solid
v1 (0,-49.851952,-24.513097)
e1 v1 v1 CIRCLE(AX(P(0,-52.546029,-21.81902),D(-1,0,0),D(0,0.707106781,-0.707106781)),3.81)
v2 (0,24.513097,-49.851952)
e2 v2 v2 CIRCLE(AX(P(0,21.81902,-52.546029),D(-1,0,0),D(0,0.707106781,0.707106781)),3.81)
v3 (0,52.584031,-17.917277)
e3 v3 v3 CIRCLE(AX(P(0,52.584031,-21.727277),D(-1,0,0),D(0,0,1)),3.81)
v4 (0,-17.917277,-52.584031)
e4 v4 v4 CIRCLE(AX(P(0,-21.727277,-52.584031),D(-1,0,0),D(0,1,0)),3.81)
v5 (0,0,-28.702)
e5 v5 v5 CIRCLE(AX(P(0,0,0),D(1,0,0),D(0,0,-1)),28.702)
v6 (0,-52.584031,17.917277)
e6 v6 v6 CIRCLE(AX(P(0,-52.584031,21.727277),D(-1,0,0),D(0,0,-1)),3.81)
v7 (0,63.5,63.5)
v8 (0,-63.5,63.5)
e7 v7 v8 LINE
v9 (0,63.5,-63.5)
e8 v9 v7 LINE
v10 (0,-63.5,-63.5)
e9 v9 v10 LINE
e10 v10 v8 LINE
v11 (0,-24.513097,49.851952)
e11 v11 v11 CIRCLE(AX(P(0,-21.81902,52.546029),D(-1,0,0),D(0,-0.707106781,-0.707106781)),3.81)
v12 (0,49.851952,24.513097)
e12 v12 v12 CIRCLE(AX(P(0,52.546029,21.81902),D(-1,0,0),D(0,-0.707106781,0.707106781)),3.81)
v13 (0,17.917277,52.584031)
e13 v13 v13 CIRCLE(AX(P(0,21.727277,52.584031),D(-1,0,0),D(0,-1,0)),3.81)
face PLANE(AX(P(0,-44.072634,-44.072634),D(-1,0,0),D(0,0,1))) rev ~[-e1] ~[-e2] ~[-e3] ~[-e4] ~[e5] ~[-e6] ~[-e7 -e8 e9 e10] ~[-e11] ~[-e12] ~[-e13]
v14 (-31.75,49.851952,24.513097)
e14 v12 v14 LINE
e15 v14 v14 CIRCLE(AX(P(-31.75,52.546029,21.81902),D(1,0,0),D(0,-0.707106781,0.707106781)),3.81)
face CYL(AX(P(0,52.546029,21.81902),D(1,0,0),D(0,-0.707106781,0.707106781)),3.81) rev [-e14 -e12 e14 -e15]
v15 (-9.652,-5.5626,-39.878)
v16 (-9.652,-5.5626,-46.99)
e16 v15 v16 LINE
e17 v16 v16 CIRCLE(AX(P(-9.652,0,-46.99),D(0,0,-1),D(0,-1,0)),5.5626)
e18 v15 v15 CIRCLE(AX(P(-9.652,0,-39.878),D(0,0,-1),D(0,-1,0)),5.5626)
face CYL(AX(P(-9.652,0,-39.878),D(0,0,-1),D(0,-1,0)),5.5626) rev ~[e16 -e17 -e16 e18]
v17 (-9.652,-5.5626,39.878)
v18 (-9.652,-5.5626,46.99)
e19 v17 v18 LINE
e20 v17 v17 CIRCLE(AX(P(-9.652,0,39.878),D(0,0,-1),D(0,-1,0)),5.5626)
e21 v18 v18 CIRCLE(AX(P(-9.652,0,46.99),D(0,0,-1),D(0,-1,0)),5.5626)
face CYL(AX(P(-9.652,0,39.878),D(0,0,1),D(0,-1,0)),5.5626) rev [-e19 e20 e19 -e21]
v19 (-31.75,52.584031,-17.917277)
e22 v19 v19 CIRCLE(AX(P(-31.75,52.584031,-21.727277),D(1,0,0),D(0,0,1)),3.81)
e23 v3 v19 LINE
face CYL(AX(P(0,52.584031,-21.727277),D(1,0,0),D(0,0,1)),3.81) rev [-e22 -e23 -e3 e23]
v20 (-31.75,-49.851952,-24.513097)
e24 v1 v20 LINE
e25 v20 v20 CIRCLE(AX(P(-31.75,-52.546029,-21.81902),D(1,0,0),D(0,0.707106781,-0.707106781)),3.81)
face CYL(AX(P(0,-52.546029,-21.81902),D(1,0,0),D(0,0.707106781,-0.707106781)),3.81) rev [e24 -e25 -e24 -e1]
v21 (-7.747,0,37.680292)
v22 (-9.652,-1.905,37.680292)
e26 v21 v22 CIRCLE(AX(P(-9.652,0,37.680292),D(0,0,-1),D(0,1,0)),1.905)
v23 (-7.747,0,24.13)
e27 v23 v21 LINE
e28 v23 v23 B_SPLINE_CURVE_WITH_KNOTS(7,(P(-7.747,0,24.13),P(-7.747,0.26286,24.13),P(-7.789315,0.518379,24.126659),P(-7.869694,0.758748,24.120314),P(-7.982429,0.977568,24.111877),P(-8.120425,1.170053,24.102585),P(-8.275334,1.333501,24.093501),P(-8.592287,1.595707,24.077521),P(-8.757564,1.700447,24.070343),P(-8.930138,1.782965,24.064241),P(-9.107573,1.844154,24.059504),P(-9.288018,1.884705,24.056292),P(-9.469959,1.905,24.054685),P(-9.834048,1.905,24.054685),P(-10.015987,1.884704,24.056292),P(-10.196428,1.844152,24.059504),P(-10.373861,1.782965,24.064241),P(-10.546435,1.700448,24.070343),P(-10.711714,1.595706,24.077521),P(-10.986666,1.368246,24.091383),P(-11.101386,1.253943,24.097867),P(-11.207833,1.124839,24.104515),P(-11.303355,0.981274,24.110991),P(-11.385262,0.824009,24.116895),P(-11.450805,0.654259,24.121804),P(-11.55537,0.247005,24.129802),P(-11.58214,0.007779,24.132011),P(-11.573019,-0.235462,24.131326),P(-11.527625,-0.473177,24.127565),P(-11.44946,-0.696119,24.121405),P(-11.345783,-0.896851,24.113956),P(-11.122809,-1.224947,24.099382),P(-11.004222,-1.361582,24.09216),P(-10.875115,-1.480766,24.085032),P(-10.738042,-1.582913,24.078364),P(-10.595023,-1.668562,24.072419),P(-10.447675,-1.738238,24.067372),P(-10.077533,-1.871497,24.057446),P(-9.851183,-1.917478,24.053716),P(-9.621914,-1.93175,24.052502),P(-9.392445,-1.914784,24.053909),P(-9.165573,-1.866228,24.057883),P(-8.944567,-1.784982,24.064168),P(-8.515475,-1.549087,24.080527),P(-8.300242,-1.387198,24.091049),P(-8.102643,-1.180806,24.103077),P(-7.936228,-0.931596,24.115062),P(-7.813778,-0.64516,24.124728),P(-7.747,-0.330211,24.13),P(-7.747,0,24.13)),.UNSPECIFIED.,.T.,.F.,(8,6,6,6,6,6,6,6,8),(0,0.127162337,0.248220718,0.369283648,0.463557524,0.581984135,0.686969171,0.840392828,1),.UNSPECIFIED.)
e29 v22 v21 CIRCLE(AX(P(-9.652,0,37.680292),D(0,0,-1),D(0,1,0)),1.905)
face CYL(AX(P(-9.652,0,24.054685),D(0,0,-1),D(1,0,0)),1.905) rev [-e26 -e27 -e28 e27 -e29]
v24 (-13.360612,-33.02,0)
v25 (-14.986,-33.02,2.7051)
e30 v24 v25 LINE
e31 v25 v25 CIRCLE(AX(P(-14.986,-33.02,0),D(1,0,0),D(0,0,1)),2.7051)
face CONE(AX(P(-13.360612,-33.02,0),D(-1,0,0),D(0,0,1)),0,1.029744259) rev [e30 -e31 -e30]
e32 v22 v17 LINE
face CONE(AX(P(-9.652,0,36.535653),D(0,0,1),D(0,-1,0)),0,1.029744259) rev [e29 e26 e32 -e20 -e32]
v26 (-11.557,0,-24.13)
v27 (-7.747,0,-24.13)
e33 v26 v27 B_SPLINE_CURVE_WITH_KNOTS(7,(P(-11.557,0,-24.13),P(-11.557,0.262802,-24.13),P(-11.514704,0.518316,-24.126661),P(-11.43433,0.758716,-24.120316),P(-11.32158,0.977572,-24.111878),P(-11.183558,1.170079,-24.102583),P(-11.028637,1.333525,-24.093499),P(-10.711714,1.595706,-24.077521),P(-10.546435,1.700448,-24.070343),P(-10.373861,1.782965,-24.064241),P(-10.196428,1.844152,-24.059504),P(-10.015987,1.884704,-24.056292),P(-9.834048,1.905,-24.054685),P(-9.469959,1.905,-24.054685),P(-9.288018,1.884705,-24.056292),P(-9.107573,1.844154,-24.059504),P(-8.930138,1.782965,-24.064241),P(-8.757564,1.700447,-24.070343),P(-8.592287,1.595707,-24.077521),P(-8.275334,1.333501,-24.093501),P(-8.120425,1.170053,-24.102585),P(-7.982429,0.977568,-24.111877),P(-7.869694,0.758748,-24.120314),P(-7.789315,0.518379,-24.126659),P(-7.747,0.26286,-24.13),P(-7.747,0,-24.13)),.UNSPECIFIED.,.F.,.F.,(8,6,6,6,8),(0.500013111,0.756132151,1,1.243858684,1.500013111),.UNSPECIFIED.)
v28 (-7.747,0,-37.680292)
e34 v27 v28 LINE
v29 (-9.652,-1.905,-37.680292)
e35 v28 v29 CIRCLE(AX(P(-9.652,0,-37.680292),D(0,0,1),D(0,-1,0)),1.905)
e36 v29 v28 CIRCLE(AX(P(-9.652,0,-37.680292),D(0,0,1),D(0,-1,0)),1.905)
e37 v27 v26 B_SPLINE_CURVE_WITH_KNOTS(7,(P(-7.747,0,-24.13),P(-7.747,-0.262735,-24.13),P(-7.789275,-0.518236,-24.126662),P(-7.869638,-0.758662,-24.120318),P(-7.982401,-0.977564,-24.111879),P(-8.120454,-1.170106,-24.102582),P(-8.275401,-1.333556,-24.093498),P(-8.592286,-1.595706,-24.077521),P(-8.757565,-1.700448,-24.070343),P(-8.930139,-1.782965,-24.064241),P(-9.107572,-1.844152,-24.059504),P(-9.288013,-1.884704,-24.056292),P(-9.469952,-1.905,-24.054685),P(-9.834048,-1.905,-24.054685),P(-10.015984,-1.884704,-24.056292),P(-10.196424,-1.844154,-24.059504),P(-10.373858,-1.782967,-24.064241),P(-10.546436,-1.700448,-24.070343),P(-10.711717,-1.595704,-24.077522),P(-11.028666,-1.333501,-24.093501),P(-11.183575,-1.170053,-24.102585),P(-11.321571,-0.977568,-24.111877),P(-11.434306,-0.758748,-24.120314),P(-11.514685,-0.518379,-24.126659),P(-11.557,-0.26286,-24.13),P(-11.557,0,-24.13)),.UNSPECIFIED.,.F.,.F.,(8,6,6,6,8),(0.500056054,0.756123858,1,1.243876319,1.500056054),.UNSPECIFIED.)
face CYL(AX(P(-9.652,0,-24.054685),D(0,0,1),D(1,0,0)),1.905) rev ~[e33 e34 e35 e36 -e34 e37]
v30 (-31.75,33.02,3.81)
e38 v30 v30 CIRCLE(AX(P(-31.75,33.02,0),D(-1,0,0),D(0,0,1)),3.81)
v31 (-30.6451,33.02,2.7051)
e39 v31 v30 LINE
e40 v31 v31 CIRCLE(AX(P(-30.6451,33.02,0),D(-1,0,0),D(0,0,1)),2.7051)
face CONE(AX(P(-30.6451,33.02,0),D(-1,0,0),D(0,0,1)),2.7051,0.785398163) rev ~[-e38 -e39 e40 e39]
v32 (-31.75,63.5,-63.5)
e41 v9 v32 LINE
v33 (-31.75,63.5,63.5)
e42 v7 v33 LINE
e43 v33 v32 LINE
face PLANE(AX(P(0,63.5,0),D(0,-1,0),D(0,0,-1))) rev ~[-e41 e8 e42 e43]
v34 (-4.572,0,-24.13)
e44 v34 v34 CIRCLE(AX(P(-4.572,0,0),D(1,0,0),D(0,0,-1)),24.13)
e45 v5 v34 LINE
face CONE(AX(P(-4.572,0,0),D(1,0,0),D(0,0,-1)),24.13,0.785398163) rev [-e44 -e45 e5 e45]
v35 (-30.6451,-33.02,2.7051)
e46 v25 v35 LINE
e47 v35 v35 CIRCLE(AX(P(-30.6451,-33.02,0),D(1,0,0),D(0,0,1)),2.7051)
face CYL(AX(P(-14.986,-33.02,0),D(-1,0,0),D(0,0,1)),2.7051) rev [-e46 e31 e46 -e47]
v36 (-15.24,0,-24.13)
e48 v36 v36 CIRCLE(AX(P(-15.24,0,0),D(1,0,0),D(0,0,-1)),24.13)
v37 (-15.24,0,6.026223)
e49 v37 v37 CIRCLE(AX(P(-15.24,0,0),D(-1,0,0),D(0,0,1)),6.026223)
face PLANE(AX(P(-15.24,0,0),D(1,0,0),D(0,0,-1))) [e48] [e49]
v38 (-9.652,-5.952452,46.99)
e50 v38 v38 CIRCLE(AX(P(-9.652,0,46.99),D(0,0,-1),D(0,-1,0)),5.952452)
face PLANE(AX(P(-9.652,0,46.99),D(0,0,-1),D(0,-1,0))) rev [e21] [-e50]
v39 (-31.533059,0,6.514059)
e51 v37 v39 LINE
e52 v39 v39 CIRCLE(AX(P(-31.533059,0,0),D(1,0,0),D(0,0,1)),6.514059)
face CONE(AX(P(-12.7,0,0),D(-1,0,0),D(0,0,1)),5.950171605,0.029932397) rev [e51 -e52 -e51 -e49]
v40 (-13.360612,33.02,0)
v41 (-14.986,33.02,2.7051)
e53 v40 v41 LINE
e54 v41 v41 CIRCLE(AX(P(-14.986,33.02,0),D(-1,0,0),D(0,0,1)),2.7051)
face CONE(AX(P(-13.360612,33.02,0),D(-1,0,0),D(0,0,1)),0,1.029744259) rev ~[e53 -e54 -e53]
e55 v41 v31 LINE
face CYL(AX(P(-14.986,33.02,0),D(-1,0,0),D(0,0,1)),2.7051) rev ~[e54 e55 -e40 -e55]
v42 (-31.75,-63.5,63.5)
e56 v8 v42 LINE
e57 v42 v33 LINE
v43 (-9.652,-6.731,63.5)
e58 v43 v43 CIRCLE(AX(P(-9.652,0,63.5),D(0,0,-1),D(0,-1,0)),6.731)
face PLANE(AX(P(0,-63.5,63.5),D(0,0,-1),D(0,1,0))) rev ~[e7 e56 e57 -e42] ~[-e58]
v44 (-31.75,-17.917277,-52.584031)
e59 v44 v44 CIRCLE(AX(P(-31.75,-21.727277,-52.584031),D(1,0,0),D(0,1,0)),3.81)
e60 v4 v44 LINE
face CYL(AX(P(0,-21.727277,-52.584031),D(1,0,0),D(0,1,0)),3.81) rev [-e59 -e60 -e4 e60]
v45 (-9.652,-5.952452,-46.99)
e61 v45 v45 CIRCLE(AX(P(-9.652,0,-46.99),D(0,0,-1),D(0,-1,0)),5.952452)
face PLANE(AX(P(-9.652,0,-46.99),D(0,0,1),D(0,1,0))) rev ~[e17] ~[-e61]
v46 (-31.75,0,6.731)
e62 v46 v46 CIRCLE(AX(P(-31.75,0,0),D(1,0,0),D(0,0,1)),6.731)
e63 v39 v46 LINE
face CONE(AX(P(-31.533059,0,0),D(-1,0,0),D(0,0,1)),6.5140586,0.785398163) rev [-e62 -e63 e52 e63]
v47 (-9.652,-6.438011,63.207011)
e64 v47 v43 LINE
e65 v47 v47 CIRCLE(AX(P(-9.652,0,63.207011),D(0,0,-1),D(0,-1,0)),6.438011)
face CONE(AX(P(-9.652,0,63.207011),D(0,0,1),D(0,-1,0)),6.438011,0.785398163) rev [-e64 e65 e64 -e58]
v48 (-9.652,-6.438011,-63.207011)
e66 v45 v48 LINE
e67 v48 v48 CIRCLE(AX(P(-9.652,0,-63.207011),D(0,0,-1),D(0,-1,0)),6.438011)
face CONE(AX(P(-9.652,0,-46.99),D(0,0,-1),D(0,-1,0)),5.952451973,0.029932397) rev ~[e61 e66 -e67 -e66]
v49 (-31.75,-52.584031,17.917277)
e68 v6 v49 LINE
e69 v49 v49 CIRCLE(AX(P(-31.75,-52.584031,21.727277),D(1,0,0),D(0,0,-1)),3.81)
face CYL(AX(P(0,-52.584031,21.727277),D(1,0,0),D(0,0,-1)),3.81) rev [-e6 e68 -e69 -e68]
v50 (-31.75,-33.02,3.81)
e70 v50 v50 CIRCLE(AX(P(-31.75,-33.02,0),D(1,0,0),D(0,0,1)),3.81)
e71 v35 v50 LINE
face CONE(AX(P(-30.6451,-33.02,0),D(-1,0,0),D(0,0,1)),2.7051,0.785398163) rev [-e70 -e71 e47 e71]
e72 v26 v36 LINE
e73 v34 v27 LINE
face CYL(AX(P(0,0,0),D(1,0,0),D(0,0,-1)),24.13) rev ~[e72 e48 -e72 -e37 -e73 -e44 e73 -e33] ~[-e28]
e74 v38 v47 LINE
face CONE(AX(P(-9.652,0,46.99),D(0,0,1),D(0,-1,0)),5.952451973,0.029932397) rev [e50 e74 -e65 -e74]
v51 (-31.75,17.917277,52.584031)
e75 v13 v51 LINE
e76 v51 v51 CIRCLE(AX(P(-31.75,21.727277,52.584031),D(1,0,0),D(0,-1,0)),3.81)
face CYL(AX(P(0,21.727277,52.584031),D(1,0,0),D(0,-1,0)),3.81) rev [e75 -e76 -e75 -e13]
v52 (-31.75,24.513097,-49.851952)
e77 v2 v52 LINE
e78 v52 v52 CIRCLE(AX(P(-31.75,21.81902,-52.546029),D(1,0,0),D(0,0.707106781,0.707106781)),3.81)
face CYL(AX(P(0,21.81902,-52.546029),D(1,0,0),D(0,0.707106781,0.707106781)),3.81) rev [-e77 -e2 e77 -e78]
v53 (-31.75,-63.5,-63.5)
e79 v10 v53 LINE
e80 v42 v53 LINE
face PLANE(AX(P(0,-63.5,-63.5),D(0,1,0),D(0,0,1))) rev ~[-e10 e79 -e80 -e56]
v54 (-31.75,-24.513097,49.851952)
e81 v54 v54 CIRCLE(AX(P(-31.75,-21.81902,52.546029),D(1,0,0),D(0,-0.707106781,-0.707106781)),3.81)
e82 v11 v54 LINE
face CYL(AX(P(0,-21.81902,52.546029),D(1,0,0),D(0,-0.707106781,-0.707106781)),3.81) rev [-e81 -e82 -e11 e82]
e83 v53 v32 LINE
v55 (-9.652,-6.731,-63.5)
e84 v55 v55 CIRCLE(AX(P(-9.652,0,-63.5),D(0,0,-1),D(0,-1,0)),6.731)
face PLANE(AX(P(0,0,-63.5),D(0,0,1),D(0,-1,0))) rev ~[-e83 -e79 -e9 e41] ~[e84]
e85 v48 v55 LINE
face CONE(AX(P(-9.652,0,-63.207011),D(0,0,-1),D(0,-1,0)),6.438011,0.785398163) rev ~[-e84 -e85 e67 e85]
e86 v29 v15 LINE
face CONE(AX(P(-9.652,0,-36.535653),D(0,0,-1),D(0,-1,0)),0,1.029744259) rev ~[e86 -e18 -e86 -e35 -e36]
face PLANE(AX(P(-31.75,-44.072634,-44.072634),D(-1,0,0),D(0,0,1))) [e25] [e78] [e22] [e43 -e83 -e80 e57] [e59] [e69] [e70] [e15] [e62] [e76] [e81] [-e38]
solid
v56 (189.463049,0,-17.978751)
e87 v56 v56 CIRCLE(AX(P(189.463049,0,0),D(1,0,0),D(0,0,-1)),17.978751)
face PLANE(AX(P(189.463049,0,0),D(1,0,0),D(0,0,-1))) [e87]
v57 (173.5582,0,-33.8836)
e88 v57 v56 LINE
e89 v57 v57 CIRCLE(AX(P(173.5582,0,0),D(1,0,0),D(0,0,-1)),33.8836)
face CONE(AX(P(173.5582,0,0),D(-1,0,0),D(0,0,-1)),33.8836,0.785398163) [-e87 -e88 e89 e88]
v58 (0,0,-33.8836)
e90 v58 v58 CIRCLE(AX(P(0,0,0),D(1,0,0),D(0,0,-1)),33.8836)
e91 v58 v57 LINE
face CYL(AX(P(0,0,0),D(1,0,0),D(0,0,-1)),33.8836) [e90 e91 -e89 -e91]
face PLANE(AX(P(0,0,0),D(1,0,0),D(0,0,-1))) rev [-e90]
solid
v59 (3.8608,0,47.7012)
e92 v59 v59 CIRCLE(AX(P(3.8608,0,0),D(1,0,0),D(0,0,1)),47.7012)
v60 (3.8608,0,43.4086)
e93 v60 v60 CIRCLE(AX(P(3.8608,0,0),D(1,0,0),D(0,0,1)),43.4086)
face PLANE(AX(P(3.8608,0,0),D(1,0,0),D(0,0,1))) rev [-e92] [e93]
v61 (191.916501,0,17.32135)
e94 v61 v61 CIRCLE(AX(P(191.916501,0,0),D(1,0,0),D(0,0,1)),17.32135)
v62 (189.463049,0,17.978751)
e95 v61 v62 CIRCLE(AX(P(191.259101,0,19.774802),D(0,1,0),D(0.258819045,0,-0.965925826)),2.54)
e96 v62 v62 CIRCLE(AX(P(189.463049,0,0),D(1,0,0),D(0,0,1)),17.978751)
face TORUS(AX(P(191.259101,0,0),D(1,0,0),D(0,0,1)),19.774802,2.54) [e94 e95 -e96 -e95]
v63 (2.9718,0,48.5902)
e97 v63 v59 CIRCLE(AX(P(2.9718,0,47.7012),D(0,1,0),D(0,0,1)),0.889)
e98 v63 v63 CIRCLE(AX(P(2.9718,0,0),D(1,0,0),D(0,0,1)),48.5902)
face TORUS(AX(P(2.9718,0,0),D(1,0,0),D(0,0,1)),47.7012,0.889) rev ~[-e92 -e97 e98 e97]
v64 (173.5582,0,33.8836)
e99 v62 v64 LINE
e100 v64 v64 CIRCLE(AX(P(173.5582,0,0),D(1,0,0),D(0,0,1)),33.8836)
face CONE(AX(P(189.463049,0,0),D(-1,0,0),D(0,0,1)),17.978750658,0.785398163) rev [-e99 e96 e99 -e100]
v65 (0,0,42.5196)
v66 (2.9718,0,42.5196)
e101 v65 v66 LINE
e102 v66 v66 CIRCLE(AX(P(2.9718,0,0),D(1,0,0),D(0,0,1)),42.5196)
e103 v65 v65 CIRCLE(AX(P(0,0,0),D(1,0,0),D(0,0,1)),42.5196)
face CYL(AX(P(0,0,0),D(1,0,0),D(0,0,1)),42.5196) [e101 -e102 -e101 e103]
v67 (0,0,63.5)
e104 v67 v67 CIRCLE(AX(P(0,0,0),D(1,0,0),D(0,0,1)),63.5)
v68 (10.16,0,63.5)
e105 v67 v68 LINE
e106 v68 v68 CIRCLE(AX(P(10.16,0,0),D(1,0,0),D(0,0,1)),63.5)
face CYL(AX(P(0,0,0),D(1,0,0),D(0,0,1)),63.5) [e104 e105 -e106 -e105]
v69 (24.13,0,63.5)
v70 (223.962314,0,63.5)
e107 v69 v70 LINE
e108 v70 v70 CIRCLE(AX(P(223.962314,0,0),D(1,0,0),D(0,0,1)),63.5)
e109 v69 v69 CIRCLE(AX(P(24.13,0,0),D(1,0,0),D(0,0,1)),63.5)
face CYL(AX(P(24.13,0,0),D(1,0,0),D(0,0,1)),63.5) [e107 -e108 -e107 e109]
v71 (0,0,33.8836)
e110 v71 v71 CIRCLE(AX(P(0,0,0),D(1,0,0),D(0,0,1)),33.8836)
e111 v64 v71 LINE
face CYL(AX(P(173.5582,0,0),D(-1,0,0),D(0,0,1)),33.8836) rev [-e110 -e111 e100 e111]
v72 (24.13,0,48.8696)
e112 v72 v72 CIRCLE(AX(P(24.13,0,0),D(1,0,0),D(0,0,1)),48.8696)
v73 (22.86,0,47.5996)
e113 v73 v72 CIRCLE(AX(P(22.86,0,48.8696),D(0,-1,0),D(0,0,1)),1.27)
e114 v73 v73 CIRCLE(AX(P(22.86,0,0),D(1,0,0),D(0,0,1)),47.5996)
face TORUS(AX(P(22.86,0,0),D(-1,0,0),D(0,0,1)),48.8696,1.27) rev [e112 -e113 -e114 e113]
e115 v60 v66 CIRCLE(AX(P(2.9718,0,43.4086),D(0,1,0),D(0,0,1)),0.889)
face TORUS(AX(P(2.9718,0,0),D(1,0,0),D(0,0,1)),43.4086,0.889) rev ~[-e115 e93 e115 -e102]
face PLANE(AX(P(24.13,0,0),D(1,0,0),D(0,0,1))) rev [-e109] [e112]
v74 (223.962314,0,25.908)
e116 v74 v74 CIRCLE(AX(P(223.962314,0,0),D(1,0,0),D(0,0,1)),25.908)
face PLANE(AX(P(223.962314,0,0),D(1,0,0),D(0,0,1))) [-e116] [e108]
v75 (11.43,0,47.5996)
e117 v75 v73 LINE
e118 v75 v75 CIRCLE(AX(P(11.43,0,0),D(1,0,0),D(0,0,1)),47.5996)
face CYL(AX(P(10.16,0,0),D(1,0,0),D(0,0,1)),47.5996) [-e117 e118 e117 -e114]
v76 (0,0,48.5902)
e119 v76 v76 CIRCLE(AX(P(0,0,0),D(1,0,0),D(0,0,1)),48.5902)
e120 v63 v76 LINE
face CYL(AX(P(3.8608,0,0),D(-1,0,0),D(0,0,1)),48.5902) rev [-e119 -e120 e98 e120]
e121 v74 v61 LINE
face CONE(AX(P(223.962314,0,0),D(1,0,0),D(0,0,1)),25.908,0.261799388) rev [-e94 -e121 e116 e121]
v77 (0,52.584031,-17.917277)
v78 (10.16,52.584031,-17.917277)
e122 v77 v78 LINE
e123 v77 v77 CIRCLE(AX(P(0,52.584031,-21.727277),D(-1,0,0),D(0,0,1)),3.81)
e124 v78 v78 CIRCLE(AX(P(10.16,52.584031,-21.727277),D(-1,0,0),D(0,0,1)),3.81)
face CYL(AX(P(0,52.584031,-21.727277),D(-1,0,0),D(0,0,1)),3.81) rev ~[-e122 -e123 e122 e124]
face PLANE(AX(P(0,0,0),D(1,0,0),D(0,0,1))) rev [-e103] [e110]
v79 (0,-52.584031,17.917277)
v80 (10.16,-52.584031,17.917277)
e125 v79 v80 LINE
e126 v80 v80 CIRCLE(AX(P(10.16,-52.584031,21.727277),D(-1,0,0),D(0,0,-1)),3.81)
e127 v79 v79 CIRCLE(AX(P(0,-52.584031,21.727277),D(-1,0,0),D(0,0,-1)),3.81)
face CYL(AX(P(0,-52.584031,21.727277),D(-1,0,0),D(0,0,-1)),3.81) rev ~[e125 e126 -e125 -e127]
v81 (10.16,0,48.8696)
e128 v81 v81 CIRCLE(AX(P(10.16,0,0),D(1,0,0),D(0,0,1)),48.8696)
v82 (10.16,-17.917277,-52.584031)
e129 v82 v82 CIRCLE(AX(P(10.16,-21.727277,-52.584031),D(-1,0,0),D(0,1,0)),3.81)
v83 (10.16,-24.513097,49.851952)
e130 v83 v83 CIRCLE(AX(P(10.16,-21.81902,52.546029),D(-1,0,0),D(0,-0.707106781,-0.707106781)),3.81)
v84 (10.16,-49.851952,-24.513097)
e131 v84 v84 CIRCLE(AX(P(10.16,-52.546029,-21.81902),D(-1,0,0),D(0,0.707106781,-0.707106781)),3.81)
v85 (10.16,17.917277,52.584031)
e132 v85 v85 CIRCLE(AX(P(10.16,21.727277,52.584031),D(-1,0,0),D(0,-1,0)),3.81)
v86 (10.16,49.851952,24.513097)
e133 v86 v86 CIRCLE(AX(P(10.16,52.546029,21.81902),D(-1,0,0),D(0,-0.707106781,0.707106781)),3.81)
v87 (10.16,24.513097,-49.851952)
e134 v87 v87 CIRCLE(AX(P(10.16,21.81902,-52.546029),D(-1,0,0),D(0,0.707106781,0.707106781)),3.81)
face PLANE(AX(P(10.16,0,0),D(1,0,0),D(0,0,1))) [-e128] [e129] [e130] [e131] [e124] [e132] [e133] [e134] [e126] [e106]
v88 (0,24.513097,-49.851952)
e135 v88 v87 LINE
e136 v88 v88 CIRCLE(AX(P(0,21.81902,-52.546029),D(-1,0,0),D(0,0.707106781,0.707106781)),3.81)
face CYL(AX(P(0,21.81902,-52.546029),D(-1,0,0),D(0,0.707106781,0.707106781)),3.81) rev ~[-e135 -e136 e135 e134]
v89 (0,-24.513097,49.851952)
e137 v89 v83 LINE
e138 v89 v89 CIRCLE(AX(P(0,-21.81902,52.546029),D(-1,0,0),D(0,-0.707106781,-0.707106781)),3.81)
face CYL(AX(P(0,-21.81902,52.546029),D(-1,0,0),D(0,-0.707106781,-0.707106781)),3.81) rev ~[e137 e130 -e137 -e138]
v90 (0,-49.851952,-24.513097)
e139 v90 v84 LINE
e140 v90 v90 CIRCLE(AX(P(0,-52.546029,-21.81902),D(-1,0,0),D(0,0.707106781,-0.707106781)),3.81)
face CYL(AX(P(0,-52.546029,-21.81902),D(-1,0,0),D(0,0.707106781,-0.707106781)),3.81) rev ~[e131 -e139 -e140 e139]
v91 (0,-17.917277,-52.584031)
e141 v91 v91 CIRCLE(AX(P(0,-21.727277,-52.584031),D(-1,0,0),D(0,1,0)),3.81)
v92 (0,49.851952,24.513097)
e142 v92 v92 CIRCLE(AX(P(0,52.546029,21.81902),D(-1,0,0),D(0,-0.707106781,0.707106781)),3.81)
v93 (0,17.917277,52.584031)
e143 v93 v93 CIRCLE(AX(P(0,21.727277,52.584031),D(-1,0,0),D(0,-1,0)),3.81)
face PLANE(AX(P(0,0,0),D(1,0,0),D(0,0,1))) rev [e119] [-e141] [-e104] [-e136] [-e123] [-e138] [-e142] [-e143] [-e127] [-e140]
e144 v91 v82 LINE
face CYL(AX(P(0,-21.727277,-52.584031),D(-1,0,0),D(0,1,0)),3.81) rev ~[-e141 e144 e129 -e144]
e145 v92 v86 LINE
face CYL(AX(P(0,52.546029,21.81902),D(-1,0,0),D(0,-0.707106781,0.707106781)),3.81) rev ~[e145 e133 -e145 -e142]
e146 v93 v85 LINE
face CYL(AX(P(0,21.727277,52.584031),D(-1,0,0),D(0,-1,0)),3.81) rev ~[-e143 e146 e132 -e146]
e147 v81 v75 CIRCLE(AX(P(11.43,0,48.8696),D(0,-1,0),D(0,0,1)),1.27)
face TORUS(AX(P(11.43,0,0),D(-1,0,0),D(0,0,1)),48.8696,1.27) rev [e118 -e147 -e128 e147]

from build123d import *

# Parameters (mm, degrees)
FILLET1_R           = 1.27
CUT_EXTRUDE1_REACH  = 243.296
SKETCH2_R           = 3.81
CIRPATTERN1_COUNT   = 8
SKETCH4_R           = 63.5
BOSS_EXTRUDE1_DEPTH = 31.75
SKETCH2_2_R         = 3.81
CUT_EXTRUDE6_DEPTH  = 242.295706697
CIRPATTERN2_COUNT   = 8
BOSS_EXTRUDE2_START = -31.75
BOSS_EXTRUDE2_DEPTH = 31.75
SKETCH12_R          = 24.13
CUT_EXTRUDE4_DEPTH  = 15.24
CUT_EXTRUDE5_START  = -39.445315
SKETCH13_R          = 1.905
CUT_EXTRUDE5_DEPTH  = 39.445315
CHAMFER1_SIZE       = 4.572
FILLET2_R           = 0.889


with BuildPart() as part:
    # Chamber Revolve → Revolve1 (revolve)
    with BuildSketch(Plane.XY, mode=Mode.PRIVATE) as revolve1_sk:
        with BuildLine():
            Line((223.962313951, 63.5), (223.962313951, 25.908))
            Line((223.962313951, 25.908), (191.916500941, 17.321350283))
            ThreePointArc((191.916500941, 17.321350283), (190.601700192, 17.321350283), (189.463049342, 17.978750658))
            Line((189.463049342, 17.978750658), (173.5582, 33.8836))
            Line((173.5582, 33.8836), (0, 33.8836))
            Line((0, 33.8836), (0, 42.5196))
            Line((0, 42.5196), (3.8608, 42.5196))
            Line((3.8608, 42.5196), (3.8608, 48.5902))
            Line((3.8608, 48.5902), (0, 48.5902))
            Line((0, 48.5902), (0, 63.5))
            Line((0, 63.5), (10.16, 63.5))
            Line((10.16, 63.5), (10.16, 47.5996))
            Line((10.16, 47.5996), (24.13, 47.5996))
            Line((24.13, 47.5996), (24.13, 63.5))
            Line((24.13, 63.5), (223.962313951, 63.5))
        make_face()
    revolve(revolve1_sk.sketch.rotate(Axis((0, 0, 0), (1, 0, 0)), 90), axis=Axis((0, 0, 0), (1, 0, 0)))

    # Fillet1
    fillet1_edges = [part.edges().sort_by_distance(p)[0] for p in [
        (24.13, 0, -47.5996),
        (10.16, 0, -47.5996),
    ]]
    fillet(fillet1_edges, radius=FILLET1_R)

    # Sketch2 → Cut-Extrude1 (cut, up to next)
    with BuildSketch(Plane.ZY, mode=Mode.PRIVATE) as cut_extrude1_sk1:
        with Locations((-21.727276623, 52.584030528)):
            Circle(SKETCH2_R)
    cut_extrude1_tool1 = extrude(cut_extrude1_sk1.sketch, amount=-CUT_EXTRUDE1_REACH, mode=Mode.PRIVATE) & part.part
    cut_extrude1 = cut_extrude1_tool1.solids().sort_by_distance((0, 52.584031, -21.727277))[0]
    add(cut_extrude1, mode=Mode.SUBTRACT)

    # CirPattern1: Cut-Extrude1 ×8 about axis
    cirpattern1_axis = Axis((0, 0, 0), (1, 0, 0))
    for i in range(1, CIRPATTERN1_COUNT):
        add(cut_extrude1.rotate(cirpattern1_axis, i * 360 / CIRPATTERN1_COUNT), mode=Mode.SUBTRACT)

    # Fillet2
    fillet2_edges = [part.edges().sort_by_distance(p)[0] for p in [
        (3.8608, 0, -42.5196),
        (3.8608, 0, -48.5902),
    ]]
    fillet(fillet2_edges, radius=FILLET2_R)


with BuildPart() as body_2:
    # Sketch4 → Boss-Extrude1 (new body)
    with BuildSketch(Plane.ZY):
        Circle(SKETCH4_R)
    extrude(amount=BOSS_EXTRUDE1_DEPTH)

    # Sketch2<2> → Cut-Extrude6 (cut, through all)
    with BuildSketch(Plane.ZY):
        with Locations((-21.727276623, 52.584030528)):
            Circle(SKETCH2_2_R)
    cut_extrude6 = extrude(amount=CUT_EXTRUDE6_DEPTH, mode=Mode.SUBTRACT)

    # CirPattern2: Cut-Extrude6 ×8 about axis
    cirpattern2_axis = Axis((0, 0, 0), (1, 0, 0))
    for i in range(1, CIRPATTERN2_COUNT):
        add(cut_extrude6.rotate(cirpattern2_axis, i * 360 / CIRPATTERN2_COUNT), mode=Mode.SUBTRACT)

    # Sketch11 → Boss-Extrude2 (add)
    with BuildSketch(Plane.ZY.offset(31.75).offset(BOSS_EXTRUDE2_START)):
        with BuildLine():
            Line((-63.5, 7.8e-08), (-63.5, -63.5))
            Line((-63.5, -63.5), (-4.2e-08, -63.5))
            ThreePointArc((-4.2e-08, -63.5), (-44.901280648, -44.901280563), (-63.5, 7.8e-08))
        make_face()
        with BuildLine():
            ThreePointArc((63.5, 0), (44.901280591, -44.90128062), (-4.2e-08, -63.5))
            Line((-4.2e-08, -63.5), (63.5, -63.5))
            Line((63.5, -63.5), (63.5, 0))
        make_face()
        with BuildLine():
            Line((-63.5, 63.5), (-63.5, 7.8e-08))
            ThreePointArc((-63.5, 7.8e-08), (-44.901280564, 44.901280647), (3.9e-08, 63.5))
            Line((3.9e-08, 63.5), (-63.5, 63.5))
        make_face()
        with BuildLine():
            ThreePointArc((3.9e-08, 63.5), (44.901280619, 44.901280591), (63.5, 0))
            Line((63.5, 0), (63.5, 63.5))
            Line((63.5, 63.5), (3.9e-08, 63.5))
        make_face()
    extrude(amount=BOSS_EXTRUDE2_DEPTH)

    # Sketch12 → Cut-Extrude4 (cut)
    with BuildSketch(Plane(origin=(0, 0, 0), x_dir=(0, 0, -1), z_dir=(1, 0, 0))):
        Circle(SKETCH12_R)
    extrude(amount=-CUT_EXTRUDE4_DEPTH, mode=Mode.SUBTRACT)

    # Sketch13 → Cut-Extrude5 (cut)
    with BuildSketch(Plane.XY.offset(63.5).offset(CUT_EXTRUDE5_START)):
        with Locations((-9.652, 0)):
            Circle(SKETCH13_R)
    cut_extrude5 = extrude(amount=CUT_EXTRUDE5_DEPTH, mode=Mode.SUBTRACT)

    # Sketch17 → 1/4 NPT Tapped Hole2 (revolve, cut)
    with BuildSketch(Plane(origin=(-31.75, 0, 0), x_dir=(0, 0, 1), z_dir=(0, 1, 0))):
        Polygon((0, 0), (0, 16.511), (5.5626, 16.511), (5.5626, 19.05), (5.950171605, 19.05), (6.5140586, 0.2169414), (6.731, 0), align=None)
    revolve(axis=Axis((-38.1, 0, 0), (1, 0, 0)), mode=Mode.SUBTRACT)

    # Chamfer1
    chamfer1_edges = [body_2.edges().sort_by_distance(p)[0] for p in [
        (0, 0, 24.13),
    ]]
    chamfer(chamfer1_edges, length=CHAMFER1_SIZE)

    # Sketch20 → 1/4 NPT Tapped Hole1 (revolve, cut)
    with BuildSketch(Plane(origin=(-9.652, 0, 63.5), x_dir=(0, -1, 0), z_dir=(1, 0, 0))):
        Polygon((0, 0), (0, 26.964347279), (5.5626, 23.622), (5.5626, 16.51), (5.952451973, 16.51), (6.438011, 0.292989), (6.731, 0), align=None)
    f_1_4_npt_tapped_hole1 = revolve(axis=Axis((-9.652, 0, 69.85), (0, 0, -1)), mode=Mode.SUBTRACT)

    # Mirror1: Cut-Extrude5, 1/4 NPT Tapped Hole1 across plane
    add(cut_extrude5.mirror(Plane.XY), mode=Mode.SUBTRACT)
    add(f_1_4_npt_tapped_hole1.mirror(Plane.XY), mode=Mode.SUBTRACT)

    # Sketch23 → 1/4-28 Tapped Hole1 (revolve, cut)
    with BuildSketch(Plane(origin=(-31.75, -33.02, 0), x_dir=(0, 0, 1), z_dir=(0, 1, 0))):
        Polygon((0, 0), (0, 18.389388061), (2.7051, 16.764), (2.7051, 1.1049), (3.81, 0), align=None)
    f_1_4_28_tapped_hole1 = revolve(axis=Axis((-38.1, -33.02, 0), (1, 0, 0)), mode=Mode.SUBTRACT)

    # Mirror2: 1/4-28 Tapped Hole1 across plane
    add(f_1_4_28_tapped_hole1.mirror(Plane.ZX), mode=Mode.SUBTRACT)


with BuildPart() as body_3:
    # Sketch21 → Revolve2 (revolve)
    with BuildSketch(Plane(origin=(0, 0, 0), x_dir=(1, 0, 0), z_dir=(0, 1, 0))):
        Polygon((0, 33.8836), (173.5582, 33.8836), (189.463049342, 17.978750658), (189.463049342, 0), (0, 0), align=None)
    revolve(axis=Axis((189.463049342, 0, 0), (1, 0, 0)))


solid = Compound([part.part, body_2.part, body_3.part])
